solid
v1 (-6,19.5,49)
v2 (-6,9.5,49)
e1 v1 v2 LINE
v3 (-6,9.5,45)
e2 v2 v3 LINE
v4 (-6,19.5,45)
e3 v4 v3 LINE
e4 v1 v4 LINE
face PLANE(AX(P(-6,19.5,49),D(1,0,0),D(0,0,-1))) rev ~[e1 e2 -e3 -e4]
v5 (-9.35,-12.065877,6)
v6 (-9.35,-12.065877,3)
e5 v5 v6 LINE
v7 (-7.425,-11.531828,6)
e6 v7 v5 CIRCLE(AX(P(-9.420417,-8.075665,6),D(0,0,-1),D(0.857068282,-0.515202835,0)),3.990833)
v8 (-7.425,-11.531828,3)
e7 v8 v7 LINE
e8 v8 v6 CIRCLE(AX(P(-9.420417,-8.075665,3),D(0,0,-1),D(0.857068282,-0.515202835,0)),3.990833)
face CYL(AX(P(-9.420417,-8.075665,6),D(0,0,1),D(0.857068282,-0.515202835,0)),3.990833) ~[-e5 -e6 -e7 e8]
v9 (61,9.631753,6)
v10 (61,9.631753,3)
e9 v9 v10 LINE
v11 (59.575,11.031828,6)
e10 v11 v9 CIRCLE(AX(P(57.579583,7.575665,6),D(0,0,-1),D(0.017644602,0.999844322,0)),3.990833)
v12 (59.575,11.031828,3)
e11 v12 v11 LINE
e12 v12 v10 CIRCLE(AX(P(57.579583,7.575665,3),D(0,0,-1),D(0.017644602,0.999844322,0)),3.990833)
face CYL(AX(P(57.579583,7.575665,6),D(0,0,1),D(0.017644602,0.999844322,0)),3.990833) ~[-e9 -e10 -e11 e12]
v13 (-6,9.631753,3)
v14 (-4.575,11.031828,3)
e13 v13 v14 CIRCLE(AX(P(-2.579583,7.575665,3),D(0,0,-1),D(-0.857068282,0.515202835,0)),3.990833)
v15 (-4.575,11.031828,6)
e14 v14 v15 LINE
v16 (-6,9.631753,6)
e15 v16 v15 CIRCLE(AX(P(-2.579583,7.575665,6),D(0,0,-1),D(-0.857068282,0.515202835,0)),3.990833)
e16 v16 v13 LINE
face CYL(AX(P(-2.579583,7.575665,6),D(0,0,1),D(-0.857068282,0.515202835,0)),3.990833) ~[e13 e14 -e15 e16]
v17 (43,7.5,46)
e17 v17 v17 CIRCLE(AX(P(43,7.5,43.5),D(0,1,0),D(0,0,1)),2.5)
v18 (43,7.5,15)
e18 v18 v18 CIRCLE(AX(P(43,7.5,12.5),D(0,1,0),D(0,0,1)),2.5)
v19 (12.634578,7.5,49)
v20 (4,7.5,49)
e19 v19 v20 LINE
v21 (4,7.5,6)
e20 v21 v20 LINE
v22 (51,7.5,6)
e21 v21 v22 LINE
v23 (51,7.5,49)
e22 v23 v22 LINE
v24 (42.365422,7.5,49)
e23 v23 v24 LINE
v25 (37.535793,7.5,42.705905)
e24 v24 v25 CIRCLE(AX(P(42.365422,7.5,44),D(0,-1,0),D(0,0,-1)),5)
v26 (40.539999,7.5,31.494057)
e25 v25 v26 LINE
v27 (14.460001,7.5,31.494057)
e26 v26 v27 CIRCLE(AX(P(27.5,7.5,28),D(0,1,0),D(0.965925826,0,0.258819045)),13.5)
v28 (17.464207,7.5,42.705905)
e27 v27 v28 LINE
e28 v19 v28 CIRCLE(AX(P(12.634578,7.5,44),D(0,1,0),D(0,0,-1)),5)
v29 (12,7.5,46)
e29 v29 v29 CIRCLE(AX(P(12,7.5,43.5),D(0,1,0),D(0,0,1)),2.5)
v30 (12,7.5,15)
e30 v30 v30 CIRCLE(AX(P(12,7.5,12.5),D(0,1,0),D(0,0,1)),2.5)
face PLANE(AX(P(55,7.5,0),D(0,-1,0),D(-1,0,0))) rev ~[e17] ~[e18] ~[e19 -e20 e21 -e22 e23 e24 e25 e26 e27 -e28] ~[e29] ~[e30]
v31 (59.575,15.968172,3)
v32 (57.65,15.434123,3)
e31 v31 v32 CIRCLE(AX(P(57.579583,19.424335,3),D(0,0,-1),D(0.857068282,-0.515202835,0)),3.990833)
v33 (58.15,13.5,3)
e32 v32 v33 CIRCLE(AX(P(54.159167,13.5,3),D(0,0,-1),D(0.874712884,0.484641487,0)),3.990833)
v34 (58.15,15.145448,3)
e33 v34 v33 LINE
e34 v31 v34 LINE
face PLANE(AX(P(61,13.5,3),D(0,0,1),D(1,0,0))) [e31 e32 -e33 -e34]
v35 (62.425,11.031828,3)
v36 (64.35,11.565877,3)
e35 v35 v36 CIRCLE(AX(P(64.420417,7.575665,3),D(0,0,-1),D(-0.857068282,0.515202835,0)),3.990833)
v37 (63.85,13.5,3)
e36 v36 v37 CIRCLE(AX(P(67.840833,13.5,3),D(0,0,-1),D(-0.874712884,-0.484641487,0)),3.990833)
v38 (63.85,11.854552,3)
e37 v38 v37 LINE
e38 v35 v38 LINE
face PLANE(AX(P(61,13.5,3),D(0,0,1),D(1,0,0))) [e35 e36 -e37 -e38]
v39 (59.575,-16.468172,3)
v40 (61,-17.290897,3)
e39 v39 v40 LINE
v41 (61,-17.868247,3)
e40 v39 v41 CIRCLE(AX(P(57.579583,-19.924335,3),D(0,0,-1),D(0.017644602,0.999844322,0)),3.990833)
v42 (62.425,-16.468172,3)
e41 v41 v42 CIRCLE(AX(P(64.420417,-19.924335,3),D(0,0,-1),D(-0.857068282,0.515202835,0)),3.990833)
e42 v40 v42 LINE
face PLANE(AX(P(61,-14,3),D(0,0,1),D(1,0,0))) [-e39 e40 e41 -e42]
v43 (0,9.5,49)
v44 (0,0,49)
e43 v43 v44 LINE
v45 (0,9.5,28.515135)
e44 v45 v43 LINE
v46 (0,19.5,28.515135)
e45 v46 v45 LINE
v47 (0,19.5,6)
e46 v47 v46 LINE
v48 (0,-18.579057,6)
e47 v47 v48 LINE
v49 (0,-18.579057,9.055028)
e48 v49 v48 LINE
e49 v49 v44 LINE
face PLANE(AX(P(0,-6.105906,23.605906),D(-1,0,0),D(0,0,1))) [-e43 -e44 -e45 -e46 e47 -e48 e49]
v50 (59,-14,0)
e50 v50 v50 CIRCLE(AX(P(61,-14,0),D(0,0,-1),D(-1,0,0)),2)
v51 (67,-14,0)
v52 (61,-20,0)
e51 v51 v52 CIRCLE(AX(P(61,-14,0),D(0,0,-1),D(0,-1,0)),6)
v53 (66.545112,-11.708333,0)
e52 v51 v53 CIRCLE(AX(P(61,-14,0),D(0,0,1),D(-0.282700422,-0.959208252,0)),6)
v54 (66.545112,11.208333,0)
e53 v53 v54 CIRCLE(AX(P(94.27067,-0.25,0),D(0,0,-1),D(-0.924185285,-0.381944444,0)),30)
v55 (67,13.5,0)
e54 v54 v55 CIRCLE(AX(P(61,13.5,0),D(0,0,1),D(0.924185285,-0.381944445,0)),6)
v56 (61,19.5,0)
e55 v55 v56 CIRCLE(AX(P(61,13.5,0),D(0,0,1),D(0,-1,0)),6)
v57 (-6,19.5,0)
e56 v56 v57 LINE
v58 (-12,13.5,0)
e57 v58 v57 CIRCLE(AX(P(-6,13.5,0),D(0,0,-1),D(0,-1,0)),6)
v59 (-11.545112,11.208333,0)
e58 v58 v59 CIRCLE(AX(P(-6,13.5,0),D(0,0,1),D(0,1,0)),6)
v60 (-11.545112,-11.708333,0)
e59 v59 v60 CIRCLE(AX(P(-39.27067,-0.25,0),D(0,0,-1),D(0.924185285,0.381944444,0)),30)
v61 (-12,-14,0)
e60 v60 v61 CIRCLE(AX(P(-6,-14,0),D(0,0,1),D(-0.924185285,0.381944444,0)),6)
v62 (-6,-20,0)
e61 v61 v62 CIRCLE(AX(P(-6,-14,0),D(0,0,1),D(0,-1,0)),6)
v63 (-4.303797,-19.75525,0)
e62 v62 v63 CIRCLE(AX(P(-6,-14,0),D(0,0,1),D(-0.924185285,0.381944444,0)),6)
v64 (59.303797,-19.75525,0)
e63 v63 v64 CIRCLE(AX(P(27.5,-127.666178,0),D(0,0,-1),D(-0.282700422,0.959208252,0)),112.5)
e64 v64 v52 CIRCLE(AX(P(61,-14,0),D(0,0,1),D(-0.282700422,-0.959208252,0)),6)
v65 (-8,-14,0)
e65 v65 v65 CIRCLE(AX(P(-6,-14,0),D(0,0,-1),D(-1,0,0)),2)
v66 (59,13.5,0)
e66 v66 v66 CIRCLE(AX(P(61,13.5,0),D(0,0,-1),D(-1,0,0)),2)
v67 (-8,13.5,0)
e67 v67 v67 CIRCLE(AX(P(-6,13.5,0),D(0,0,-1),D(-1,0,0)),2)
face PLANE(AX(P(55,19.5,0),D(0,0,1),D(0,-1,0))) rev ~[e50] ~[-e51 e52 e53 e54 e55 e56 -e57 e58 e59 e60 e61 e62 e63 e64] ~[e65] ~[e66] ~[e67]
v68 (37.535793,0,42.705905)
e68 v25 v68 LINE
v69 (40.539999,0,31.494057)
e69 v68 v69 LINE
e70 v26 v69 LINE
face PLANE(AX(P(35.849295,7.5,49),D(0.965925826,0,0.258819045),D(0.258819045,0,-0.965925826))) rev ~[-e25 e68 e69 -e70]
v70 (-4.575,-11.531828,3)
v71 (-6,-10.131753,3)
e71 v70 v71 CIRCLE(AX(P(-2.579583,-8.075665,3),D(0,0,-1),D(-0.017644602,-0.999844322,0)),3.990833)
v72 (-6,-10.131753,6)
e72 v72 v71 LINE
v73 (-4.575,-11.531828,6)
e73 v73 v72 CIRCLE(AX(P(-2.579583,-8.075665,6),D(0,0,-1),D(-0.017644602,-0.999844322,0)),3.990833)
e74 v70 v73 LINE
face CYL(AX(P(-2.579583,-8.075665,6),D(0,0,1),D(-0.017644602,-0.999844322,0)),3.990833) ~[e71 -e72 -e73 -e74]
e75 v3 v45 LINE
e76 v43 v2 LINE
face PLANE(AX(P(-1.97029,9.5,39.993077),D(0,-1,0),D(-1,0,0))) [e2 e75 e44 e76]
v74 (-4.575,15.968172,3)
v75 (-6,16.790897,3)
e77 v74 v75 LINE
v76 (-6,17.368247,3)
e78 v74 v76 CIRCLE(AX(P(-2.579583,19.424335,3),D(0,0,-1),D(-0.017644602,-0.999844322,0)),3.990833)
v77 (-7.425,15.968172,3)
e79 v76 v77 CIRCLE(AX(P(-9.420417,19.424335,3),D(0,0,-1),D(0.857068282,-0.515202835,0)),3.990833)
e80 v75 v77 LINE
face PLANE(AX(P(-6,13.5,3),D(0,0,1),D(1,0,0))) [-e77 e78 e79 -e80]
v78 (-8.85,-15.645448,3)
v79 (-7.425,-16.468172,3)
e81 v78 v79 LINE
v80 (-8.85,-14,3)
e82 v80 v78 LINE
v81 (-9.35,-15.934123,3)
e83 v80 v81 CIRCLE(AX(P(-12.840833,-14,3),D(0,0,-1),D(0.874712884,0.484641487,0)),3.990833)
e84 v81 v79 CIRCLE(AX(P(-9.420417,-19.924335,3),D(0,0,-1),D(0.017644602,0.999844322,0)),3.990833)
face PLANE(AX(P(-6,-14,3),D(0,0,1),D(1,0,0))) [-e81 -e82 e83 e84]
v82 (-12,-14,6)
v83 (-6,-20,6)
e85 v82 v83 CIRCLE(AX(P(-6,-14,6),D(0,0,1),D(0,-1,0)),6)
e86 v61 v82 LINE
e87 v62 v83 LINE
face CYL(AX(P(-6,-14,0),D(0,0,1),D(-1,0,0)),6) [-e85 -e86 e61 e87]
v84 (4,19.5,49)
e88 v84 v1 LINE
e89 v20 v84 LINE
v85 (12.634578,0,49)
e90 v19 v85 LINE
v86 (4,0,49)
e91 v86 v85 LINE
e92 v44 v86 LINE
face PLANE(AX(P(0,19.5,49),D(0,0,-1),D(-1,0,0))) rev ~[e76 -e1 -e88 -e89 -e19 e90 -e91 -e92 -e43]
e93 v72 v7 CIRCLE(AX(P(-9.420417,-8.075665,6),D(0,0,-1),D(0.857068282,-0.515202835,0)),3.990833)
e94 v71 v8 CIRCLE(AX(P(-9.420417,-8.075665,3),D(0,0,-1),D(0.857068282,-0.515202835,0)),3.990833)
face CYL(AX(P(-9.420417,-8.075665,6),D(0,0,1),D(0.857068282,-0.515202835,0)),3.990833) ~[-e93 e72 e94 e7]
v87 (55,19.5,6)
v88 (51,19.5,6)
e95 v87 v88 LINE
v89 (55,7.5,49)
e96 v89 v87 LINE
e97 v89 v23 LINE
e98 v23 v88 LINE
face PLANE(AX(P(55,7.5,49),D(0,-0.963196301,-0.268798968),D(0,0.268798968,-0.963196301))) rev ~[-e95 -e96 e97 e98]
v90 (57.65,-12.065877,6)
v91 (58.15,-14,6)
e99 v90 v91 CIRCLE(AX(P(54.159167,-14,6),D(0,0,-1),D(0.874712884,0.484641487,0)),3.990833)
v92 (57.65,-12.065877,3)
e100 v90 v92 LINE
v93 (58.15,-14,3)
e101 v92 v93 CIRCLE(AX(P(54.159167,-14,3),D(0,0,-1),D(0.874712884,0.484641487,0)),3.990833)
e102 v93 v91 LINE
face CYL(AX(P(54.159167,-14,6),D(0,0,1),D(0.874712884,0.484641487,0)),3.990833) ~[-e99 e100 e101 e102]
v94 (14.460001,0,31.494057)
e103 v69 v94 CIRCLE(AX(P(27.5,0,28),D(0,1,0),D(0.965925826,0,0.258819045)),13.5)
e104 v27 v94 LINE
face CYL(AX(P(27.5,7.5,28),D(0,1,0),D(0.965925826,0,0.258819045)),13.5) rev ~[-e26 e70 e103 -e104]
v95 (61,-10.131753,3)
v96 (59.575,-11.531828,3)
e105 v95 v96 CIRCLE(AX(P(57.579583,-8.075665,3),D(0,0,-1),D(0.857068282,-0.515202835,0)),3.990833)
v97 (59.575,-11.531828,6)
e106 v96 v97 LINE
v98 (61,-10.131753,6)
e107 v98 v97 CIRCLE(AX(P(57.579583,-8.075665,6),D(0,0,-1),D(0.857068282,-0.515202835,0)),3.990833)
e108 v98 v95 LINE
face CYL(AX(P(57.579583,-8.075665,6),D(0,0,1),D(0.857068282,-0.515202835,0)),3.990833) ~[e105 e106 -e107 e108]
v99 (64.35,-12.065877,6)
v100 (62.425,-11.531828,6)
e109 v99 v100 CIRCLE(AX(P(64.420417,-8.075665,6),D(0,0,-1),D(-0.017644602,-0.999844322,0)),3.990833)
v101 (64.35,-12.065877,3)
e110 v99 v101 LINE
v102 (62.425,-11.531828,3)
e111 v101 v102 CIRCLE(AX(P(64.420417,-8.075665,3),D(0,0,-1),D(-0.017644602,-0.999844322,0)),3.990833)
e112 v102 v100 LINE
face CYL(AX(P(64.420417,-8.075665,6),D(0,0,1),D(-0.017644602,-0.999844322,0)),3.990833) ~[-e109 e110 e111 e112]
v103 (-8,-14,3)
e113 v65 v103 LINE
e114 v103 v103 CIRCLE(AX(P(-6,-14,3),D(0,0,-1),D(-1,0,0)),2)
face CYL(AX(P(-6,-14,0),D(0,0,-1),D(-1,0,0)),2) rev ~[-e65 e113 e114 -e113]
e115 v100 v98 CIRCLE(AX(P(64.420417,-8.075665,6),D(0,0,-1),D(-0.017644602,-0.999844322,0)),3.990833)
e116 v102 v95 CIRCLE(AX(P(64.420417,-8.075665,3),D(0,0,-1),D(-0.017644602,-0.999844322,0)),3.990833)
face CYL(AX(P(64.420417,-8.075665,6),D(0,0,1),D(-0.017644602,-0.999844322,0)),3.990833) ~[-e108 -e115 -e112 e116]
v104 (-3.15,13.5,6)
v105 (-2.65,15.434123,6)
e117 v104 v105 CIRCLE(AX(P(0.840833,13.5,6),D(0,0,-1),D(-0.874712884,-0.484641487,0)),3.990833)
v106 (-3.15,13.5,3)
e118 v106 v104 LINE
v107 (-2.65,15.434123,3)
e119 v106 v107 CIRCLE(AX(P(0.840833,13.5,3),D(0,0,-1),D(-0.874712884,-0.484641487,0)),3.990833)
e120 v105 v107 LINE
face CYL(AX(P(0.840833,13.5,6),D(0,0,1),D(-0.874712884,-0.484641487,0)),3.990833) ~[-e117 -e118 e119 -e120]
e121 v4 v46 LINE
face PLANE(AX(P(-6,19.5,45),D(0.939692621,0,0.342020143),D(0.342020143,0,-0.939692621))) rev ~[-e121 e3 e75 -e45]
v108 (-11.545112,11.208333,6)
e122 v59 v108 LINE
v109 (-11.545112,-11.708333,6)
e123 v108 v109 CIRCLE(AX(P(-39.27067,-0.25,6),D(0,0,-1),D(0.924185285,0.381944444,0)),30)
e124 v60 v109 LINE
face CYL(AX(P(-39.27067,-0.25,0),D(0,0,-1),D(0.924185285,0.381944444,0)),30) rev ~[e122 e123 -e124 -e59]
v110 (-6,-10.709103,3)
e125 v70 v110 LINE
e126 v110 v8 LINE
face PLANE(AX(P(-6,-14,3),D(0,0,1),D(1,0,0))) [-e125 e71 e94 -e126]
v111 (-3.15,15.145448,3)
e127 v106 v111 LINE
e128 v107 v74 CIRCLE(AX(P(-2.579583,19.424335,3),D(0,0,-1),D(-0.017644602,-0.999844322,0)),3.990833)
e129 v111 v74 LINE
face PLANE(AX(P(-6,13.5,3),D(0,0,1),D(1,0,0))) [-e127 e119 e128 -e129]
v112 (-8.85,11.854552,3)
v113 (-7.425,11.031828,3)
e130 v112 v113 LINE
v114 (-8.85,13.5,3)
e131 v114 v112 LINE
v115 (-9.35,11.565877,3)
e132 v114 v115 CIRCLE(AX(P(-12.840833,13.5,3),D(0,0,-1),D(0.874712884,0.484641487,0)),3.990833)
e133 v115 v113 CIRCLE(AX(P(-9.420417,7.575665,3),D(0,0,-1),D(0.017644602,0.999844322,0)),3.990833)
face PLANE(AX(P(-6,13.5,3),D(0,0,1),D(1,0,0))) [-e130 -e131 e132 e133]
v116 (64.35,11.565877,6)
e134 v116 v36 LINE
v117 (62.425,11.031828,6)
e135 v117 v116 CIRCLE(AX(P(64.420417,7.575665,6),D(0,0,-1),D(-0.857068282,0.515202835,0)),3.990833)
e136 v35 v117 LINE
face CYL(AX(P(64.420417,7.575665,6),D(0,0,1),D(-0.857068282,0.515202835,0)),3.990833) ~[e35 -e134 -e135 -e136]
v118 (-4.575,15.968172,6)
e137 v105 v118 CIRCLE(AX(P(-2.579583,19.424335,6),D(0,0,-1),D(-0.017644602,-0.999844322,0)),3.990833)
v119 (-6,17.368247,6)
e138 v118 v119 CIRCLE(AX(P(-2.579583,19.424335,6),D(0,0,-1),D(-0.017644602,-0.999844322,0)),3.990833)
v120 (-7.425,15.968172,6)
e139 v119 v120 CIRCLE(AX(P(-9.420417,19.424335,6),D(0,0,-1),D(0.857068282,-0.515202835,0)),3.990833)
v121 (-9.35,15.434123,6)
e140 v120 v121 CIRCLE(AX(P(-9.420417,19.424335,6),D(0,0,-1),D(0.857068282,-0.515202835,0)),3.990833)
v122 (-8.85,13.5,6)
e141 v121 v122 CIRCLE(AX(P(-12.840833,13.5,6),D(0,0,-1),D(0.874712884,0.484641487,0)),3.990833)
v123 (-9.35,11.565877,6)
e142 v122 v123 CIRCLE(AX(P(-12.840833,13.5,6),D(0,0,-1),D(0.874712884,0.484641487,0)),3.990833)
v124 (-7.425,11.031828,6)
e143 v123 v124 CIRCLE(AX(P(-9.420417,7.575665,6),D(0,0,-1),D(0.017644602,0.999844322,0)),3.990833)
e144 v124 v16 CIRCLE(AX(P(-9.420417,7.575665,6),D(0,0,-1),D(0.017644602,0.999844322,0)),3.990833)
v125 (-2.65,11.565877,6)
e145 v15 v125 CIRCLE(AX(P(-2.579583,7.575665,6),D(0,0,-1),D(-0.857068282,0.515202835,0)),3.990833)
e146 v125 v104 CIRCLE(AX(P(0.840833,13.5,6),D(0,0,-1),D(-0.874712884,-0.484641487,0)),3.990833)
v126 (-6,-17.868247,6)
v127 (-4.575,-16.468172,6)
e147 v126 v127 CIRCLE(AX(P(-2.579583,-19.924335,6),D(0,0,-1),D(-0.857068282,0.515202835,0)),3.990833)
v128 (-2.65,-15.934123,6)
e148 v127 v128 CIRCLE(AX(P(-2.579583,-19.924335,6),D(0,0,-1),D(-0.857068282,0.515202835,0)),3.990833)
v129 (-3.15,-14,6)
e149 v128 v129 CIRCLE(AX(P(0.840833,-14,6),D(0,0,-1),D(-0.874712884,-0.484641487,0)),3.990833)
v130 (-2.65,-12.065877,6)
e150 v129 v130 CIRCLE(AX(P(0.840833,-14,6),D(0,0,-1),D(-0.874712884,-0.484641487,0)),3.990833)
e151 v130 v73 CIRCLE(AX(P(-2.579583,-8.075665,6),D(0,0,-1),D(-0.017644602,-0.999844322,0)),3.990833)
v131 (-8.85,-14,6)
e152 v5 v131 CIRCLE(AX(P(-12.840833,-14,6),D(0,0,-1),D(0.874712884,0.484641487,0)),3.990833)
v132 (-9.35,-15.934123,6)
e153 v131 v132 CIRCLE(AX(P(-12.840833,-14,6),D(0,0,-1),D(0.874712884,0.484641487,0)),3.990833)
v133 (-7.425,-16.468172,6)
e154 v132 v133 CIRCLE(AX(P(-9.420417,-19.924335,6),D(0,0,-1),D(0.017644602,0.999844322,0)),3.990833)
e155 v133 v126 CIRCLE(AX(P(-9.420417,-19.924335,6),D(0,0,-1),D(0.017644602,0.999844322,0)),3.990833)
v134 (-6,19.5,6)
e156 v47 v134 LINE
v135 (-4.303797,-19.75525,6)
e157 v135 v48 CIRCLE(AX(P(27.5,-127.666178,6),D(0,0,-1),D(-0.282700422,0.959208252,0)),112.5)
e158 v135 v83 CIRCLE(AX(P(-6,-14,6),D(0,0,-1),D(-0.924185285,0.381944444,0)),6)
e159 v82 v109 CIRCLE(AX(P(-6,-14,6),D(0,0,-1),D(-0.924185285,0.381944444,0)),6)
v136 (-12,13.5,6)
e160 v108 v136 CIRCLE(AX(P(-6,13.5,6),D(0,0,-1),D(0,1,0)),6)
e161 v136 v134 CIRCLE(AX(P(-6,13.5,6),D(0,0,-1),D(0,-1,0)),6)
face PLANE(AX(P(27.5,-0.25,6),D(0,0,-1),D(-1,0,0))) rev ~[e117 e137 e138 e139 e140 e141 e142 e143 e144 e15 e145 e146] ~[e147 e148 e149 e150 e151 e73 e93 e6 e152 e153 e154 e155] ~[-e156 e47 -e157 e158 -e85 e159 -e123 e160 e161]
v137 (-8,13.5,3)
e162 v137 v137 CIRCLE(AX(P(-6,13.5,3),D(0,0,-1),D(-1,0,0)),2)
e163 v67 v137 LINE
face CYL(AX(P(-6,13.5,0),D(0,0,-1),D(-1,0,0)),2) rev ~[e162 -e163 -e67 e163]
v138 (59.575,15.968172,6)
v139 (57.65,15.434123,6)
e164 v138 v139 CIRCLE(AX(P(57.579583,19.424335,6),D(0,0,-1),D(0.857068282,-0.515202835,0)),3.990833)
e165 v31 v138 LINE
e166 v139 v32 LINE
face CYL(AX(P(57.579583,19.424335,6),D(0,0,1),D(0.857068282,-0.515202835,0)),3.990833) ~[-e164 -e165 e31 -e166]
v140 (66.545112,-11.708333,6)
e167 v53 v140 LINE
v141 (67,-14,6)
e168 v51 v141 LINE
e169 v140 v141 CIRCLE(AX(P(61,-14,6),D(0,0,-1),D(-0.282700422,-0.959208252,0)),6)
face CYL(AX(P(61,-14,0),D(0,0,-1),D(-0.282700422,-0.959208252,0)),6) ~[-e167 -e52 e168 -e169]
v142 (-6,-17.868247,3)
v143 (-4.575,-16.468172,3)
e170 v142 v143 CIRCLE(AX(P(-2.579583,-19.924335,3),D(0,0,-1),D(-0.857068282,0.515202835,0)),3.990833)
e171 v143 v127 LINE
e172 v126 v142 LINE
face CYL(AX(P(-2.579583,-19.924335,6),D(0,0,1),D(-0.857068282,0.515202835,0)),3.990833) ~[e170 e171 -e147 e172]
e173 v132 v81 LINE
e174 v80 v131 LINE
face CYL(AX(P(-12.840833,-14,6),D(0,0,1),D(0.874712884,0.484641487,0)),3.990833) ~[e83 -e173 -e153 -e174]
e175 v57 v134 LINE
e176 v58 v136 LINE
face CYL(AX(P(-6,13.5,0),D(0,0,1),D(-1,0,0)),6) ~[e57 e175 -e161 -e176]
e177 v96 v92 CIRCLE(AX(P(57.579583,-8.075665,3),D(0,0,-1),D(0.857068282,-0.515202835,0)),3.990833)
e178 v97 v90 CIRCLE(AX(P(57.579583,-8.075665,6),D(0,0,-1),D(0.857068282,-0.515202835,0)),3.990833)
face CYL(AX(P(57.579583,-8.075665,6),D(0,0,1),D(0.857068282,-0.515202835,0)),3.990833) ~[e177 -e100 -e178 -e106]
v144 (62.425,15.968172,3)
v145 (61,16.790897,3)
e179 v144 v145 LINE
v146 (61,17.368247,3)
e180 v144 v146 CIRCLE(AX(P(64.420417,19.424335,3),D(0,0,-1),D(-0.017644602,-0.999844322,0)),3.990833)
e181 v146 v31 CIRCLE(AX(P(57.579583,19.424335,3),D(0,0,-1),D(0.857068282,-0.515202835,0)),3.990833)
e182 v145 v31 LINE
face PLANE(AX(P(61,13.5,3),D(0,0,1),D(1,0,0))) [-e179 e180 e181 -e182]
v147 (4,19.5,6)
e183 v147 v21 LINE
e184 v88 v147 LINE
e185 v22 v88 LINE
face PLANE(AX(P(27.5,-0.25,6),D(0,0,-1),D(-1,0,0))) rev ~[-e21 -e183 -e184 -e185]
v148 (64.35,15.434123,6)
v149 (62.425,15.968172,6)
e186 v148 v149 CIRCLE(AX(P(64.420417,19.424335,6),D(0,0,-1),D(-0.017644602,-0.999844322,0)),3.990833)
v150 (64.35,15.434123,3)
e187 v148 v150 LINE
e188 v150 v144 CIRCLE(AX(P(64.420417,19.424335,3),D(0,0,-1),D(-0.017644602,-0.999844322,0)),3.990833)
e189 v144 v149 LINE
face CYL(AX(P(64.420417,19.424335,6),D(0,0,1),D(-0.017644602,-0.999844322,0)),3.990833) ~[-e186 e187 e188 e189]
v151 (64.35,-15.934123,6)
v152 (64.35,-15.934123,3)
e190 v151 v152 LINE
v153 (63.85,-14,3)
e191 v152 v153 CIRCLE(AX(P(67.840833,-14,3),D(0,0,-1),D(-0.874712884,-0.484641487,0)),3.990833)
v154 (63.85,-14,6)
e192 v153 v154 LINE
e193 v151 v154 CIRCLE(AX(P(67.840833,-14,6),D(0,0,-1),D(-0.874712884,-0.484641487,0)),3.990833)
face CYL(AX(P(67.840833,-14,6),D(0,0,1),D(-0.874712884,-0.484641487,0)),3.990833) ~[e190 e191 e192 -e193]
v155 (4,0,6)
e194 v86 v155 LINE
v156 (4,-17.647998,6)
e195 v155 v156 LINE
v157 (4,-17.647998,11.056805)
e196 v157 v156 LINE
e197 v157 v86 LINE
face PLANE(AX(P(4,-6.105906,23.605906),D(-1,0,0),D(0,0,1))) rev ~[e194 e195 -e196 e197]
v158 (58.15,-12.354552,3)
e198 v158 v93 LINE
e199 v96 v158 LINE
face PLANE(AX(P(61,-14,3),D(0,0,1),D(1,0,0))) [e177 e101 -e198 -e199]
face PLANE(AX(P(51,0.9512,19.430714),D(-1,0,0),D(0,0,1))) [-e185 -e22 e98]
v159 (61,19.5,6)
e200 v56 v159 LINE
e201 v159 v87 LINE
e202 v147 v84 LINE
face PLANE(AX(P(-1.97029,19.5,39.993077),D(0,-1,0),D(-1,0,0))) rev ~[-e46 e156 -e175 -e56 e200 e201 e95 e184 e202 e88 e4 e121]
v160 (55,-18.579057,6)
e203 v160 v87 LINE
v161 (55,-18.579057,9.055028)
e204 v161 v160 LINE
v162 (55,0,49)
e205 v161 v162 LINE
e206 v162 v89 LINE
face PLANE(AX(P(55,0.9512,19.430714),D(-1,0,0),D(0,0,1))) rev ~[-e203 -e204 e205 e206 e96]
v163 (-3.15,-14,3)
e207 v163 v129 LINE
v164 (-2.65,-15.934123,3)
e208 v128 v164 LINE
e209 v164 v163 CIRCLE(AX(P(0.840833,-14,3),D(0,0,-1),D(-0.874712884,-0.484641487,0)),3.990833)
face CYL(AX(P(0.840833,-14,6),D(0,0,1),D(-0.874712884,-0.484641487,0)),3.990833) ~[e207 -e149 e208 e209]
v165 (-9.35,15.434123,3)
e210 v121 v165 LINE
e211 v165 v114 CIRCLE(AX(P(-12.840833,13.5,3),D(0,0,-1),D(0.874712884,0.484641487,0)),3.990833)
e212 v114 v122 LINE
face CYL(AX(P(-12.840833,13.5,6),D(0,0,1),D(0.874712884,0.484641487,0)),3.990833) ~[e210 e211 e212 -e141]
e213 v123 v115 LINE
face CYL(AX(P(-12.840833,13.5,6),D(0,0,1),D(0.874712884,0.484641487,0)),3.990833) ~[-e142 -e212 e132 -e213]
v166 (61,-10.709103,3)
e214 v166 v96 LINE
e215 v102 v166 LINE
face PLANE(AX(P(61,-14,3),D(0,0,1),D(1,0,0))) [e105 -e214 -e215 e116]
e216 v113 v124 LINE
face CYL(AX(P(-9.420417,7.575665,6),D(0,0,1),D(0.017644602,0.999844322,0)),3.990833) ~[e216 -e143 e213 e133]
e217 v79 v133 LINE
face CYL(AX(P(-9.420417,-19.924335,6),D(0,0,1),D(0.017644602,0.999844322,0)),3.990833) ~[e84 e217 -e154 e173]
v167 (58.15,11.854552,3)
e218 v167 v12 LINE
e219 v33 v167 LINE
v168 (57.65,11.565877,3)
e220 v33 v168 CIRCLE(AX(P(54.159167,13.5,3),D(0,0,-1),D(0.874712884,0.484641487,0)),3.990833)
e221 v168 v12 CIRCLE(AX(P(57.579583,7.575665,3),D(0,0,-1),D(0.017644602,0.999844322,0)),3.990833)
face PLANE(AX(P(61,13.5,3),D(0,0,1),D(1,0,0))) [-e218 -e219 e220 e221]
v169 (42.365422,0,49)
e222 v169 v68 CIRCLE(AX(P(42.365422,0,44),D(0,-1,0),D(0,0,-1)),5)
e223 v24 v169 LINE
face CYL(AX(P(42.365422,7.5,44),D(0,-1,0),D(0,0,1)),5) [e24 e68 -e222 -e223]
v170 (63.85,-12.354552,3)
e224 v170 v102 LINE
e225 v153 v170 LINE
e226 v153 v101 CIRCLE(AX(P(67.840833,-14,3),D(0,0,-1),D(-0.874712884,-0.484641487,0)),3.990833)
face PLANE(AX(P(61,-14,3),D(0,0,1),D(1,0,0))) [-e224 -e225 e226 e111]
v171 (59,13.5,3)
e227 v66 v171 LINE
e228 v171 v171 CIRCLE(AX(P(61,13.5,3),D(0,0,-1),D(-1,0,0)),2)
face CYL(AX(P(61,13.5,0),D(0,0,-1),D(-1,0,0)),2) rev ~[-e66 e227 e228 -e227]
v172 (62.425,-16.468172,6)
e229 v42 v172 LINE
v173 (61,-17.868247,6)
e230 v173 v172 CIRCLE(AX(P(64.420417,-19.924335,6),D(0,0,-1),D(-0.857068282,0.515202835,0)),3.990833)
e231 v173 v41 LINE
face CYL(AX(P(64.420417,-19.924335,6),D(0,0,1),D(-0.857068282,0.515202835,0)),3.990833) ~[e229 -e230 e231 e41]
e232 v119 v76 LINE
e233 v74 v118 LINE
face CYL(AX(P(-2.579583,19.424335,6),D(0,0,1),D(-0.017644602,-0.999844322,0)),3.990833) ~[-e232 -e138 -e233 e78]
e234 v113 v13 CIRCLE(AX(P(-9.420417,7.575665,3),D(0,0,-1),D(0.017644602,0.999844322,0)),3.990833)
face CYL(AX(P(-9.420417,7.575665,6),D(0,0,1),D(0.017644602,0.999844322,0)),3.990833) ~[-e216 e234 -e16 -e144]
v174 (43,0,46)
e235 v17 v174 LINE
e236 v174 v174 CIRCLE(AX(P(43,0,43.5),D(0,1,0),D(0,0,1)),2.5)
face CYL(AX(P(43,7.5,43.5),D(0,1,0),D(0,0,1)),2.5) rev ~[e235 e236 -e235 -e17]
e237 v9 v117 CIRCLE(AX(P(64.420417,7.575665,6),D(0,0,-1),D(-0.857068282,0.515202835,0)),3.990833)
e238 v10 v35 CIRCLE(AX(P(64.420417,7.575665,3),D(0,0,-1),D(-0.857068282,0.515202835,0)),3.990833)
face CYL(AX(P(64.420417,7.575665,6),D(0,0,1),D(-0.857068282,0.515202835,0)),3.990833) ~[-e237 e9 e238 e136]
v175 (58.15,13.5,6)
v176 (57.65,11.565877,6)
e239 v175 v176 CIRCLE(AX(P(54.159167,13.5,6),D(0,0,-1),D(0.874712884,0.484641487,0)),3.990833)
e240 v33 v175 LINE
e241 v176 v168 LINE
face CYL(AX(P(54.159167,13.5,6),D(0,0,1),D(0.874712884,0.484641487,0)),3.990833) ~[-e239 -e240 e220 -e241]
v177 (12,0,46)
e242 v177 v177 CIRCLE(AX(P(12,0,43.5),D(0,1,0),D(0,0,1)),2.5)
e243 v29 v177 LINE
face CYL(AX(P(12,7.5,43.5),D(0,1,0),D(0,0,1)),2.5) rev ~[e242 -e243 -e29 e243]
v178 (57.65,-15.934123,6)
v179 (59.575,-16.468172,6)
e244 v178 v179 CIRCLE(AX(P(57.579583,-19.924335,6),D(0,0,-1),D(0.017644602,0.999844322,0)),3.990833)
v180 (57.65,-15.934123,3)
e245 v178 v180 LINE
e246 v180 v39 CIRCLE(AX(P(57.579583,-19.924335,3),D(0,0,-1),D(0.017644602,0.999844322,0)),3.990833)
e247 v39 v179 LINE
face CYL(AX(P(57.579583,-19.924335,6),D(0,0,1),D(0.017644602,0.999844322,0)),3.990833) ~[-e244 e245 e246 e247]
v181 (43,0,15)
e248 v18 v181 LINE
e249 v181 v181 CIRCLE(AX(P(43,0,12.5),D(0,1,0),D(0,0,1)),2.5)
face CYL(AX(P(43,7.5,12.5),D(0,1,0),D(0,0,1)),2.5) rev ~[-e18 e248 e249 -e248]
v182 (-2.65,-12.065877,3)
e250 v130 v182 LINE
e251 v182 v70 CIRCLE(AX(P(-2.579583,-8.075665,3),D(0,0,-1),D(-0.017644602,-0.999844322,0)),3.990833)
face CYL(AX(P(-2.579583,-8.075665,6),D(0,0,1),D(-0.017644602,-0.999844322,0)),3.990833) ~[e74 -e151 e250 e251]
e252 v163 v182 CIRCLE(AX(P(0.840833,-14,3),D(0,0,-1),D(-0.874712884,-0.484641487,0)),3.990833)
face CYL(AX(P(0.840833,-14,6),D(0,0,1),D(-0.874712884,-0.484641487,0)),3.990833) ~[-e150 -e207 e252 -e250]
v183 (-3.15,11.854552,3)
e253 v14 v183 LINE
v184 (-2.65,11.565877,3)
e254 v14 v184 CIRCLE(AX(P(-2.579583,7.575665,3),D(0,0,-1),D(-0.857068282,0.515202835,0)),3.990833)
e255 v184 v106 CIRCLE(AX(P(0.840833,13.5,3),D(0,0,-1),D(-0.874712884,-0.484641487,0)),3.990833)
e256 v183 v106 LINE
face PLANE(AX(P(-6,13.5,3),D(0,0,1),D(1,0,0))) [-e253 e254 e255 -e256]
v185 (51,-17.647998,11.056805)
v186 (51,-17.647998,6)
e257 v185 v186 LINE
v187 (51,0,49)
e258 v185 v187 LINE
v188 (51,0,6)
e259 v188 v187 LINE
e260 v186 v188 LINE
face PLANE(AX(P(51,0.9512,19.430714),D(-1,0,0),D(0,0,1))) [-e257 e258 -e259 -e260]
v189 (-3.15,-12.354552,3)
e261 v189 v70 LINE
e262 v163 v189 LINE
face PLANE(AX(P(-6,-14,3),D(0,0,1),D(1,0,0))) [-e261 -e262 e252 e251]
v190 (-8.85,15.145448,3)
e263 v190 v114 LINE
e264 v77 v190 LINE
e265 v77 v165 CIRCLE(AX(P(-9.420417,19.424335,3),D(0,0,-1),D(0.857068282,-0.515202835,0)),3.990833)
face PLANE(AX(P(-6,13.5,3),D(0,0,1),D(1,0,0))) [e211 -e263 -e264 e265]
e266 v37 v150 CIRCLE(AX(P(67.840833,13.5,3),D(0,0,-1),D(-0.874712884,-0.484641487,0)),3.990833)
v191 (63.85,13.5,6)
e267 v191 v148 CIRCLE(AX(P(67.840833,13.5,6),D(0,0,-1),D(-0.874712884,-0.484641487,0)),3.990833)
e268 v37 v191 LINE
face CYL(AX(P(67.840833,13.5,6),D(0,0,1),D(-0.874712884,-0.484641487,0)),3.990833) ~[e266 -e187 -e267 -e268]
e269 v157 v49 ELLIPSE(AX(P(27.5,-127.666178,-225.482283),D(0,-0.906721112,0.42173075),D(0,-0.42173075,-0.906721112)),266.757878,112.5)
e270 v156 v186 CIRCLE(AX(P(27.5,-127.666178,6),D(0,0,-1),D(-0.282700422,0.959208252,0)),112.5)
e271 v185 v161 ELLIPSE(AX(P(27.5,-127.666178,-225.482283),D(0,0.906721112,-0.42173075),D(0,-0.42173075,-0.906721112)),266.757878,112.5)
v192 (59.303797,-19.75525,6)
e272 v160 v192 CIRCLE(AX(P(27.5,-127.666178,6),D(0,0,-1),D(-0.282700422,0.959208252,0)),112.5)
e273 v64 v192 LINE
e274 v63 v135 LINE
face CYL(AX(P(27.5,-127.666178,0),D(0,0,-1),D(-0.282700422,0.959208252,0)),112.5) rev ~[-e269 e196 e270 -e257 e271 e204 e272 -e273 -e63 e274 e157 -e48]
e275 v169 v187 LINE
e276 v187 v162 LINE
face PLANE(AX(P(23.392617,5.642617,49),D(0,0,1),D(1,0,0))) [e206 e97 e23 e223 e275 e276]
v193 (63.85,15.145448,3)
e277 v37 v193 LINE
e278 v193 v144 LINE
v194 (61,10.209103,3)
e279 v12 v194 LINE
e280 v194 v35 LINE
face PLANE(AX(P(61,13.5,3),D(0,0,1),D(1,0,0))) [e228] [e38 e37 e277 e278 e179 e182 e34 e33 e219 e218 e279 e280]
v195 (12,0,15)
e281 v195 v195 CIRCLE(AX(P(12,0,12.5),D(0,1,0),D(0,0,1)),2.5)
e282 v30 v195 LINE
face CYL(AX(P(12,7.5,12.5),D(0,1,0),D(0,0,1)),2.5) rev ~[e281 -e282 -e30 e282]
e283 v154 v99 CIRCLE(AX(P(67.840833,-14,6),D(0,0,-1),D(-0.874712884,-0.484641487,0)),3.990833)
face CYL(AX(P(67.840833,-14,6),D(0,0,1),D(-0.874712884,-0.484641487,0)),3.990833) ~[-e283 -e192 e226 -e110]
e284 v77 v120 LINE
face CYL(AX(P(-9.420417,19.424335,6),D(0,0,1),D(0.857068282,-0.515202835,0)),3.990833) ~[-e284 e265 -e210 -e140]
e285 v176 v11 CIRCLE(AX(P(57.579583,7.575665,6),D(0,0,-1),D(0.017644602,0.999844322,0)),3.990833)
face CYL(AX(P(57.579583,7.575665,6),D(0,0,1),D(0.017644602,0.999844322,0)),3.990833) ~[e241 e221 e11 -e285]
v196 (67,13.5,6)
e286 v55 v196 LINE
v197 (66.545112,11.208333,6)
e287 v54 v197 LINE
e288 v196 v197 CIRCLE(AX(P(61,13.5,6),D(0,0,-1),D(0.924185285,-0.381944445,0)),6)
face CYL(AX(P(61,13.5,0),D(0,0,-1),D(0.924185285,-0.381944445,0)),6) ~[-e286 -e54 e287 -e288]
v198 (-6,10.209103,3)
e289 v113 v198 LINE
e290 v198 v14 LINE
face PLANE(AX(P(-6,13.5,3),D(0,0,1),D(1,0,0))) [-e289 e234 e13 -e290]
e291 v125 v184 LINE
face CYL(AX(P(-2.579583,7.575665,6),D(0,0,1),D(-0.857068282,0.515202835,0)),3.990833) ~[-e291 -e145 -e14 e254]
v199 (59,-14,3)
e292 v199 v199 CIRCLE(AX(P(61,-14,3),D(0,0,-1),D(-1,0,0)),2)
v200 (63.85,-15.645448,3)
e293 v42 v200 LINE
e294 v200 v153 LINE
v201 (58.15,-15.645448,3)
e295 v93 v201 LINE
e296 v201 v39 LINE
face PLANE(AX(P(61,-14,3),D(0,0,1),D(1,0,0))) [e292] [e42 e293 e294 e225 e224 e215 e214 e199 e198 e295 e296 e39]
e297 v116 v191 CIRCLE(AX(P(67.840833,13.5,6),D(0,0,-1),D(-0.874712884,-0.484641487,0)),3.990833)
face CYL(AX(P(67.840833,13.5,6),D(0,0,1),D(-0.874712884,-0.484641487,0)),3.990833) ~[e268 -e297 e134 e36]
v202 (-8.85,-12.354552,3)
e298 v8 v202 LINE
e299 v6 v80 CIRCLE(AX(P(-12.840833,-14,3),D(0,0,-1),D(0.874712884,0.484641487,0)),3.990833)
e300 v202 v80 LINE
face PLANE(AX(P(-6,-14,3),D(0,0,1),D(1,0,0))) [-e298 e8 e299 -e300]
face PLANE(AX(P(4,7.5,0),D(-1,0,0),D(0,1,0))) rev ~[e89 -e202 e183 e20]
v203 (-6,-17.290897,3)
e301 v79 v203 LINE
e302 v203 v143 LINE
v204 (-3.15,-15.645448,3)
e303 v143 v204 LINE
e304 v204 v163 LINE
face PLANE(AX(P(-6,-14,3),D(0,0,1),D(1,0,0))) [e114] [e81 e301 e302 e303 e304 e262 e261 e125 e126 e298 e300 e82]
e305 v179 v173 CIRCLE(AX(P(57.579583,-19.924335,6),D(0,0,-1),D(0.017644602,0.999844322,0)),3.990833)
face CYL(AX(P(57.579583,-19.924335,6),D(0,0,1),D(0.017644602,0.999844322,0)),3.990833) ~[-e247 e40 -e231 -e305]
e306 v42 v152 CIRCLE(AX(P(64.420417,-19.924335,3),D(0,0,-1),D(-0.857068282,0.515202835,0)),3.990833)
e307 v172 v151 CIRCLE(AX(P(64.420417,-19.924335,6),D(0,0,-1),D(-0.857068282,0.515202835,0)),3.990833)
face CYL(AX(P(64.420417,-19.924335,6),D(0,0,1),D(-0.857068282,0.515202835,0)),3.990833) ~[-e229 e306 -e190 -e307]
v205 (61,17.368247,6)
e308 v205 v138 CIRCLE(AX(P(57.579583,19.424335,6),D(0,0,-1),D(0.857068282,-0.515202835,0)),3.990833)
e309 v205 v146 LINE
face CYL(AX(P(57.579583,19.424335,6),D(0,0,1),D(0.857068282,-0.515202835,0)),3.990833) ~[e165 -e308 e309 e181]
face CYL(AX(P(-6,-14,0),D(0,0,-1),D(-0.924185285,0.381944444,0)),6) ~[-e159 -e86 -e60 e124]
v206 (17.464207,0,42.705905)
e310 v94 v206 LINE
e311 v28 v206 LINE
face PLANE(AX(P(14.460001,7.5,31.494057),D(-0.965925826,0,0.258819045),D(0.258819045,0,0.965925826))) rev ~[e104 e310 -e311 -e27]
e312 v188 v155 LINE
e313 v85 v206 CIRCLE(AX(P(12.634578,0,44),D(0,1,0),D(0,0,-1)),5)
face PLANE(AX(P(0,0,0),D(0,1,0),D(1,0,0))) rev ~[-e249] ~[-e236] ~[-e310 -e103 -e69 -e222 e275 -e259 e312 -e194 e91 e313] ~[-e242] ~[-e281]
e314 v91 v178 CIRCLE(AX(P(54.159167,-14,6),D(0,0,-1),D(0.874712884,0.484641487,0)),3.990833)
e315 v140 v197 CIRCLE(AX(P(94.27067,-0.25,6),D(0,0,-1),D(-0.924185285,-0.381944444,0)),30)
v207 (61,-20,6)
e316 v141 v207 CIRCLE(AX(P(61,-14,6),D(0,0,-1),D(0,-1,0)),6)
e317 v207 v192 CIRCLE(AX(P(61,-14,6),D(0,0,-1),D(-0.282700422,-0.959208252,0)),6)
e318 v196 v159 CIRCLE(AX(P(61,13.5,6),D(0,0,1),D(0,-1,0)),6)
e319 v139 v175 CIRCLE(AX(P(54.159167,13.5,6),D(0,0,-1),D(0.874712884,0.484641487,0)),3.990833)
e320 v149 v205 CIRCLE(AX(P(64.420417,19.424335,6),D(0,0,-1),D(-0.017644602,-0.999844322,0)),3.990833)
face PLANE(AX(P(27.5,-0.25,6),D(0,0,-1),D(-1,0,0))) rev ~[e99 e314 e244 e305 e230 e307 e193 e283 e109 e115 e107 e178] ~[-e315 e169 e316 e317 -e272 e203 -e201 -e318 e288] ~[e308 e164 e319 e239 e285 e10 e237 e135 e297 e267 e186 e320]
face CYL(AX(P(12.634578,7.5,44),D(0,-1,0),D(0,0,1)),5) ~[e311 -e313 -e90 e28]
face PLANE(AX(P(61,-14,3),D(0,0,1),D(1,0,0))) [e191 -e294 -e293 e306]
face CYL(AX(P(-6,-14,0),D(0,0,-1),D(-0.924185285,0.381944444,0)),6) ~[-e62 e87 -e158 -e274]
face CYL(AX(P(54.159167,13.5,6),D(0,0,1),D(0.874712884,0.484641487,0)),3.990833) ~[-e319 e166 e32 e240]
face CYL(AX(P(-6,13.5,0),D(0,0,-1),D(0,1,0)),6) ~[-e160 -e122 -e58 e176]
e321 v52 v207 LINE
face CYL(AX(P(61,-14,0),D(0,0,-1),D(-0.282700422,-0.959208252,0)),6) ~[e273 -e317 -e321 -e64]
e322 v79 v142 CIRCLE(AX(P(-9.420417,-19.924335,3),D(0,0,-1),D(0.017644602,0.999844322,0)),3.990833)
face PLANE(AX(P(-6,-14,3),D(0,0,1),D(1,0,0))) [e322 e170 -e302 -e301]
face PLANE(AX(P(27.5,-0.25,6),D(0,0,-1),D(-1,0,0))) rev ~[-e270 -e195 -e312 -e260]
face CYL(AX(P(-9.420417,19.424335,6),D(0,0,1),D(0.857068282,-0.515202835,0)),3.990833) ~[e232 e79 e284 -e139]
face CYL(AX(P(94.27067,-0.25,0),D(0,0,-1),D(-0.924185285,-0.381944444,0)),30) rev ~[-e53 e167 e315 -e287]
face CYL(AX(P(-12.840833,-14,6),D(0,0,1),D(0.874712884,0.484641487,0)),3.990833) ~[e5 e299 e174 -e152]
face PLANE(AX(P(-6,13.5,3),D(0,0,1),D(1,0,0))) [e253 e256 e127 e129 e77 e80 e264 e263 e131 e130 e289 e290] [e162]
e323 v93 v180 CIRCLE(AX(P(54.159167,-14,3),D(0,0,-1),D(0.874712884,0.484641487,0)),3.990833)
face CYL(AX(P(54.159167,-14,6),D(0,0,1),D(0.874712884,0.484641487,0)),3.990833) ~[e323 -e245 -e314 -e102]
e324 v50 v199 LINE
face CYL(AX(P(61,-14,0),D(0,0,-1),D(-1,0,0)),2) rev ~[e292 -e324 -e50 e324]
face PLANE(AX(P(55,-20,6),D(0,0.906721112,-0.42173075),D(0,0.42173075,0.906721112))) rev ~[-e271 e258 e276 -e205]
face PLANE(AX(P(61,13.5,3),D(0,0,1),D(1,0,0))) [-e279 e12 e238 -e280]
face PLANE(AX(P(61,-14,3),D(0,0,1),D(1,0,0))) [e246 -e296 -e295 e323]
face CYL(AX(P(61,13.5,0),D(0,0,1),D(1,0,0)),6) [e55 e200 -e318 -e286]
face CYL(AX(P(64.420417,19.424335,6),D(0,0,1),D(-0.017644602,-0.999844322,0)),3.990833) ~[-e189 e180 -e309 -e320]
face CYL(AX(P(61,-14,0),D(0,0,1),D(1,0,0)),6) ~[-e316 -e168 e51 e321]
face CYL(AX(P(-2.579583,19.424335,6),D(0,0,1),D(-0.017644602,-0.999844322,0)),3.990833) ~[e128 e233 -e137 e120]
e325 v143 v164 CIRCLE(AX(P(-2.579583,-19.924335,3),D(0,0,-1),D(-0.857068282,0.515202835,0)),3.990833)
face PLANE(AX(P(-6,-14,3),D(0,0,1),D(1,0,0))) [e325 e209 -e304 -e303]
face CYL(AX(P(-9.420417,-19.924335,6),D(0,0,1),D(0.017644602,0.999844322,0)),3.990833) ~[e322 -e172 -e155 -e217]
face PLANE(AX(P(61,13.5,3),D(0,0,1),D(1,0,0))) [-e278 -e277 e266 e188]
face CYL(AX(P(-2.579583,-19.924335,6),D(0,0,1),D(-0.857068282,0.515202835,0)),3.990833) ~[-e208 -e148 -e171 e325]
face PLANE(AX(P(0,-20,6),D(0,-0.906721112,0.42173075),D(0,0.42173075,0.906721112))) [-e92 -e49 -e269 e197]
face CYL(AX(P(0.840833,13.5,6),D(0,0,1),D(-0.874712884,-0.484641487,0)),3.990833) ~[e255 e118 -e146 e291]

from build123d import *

# Parameters (mm, degrees)
BOSS_EXTRUDE1_DEPTH  = 49
SKETCH2_R            = 2.5
CUT_EXTRUDE1_DEPTH   = 8.5
SKETCH4_W            = 79
SKETCH4_H            = 39.5
BOSS_EXTRUDE2_DEPTH  = 6
BOSS_EXTRUDE3_DEPTH  = 4
SKETCH5_R            = 2
CUT_EXTRUDE3_DEPTH   = 10
BOSS_EXTRUDE4_DEPTH  = 4
FILLET1_R            = 6
FILLET2_R            = 5
CUT_EXTRUDE5_DEPTH   = 3
CUT_EXTRUDE6_DEPTH   = 50
CUT_EXTRUDE7_DEPTH   = 3
LPATTERN1_COUNT      = 2
LPATTERN1_PITCH      = 67
LPATTERN1_COUNT_DIR2 = 2
LPATTERN1_PITCH_DIR2 = 27.5
BOSS_EXTRUDE5_DEPTH  = 10


with BuildPart() as part:
    # Sketch1 → Boss-Extrude1 (new body)
    with BuildSketch(Plane.XY):
        Polygon((4, 7.5), (4, 19.5), (0, 19.5), (0, 0), (55, 0), (55, 7.5), align=None)
    extrude(amount=BOSS_EXTRUDE1_DEPTH)

    # Sketch2 → Cut-Extrude1 (cut, through all)
    with BuildSketch(Plane(origin=(0, 7.5, 0), x_dir=(1, 0, 0), z_dir=(0, 1, 0))):
        with Locations(Location((12, -12.5, 0), (0, 0, 270))):  # turned: the seam where the file's is
            Circle(SKETCH2_R)
        with Locations(Location((43, -12.5, 0), (0, 0, 270))):  # turned: the seam where the file's is
            Circle(SKETCH2_R)
        with Locations(Location((12, -43.5, 0), (0, 0, 270))):  # turned: the seam where the file's is
            Circle(SKETCH2_R)
        with Locations(Location((43, -43.5, 0), (0, 0, 270))):  # turned: the seam where the file's is
            Circle(SKETCH2_R)
        with BuildLine():
            Line((14.460001345, -31.494057109), (19.150704606, -49))
            Line((19.150704606, -49), (35.849295394, -49))
            Line((35.849295394, -49), (40.539998655, -31.494057109))
            ThreePointArc((40.539998655, -31.494057109), (27.5, -14.5), (14.460001345, -31.494057109))
        make_face()
    extrude(amount=-CUT_EXTRUDE1_DEPTH, mode=Mode.SUBTRACT)

    # Sketch4 → Boss-Extrude2 (add)
    with BuildSketch(Plane(origin=(0, 0, 0), x_dir=(-1, 0, 0), z_dir=(0, 0, -1))):
        with Locations((-27.5, -0.25)):
            Rectangle(SKETCH4_W, SKETCH4_H)
    extrude(amount=-BOSS_EXTRUDE2_DEPTH)

    # Sketch6 → Boss-Extrude3 (add)
    with BuildSketch(Plane.ZY):
        Polygon((6, -20), (49, 0), (6, 0), align=None)
    extrude(amount=-BOSS_EXTRUDE3_DEPTH)

    # Sketch5 → Cut-Extrude3 (cut)
    with BuildSketch(Plane(origin=(0, 0, 0), x_dir=(-1, 0, 0), z_dir=(0, 0, -1))):
        with Locations((-61, 13.5)):
            Circle(SKETCH5_R)
        with Locations((-61, -14)):
            Circle(SKETCH5_R)
        with Locations((6, 13.5)):
            Circle(SKETCH5_R)
        with Locations((6, -14)):
            Circle(SKETCH5_R)
    extrude(amount=-CUT_EXTRUDE3_DEPTH, mode=Mode.SUBTRACT)

    # Sketch7 → Boss-Extrude4 (add)
    with BuildSketch(Plane(origin=(55, 0, 0), x_dir=(0, 0, -1), z_dir=(1, 0, 0))):
        Polygon((-49, 7.5), (-6, 19.5), (0, 19.5), (0, -20), (-6, -20), (-49, 0), align=None)
    extrude(amount=-BOSS_EXTRUDE4_DEPTH)

    # Fillet1
    fillet1_edges = [part.edges().sort_by_distance(p)[0] for p in [
        (67, 19.5, 3),
        (-12, 19.5, 3),
        (-12, -20, 3),
        (67, -20, 3),
    ]]
    fillet(fillet1_edges, radius=FILLET1_R)

    # Fillet2
    fillet2_edges = [part.edges().sort_by_distance(p)[0] for p in [
        (35.849295394, 3.75, 49),
        (19.150704606, 3.75, 49),
    ]]
    fillet(fillet2_edges, radius=FILLET2_R)

    # Sketch9 → Cut-Extrude5 (cut)
    with BuildSketch(Plane.XY.offset(6)):
        Polygon((-6, 16.790896534), (-8.85, 15.145448267), (-8.85, 11.854551733), (-6, 10.209103466), (-3.15, 11.854551733), (-3.15, 15.145448267), align=None)
        Polygon((-6, -10.709103466), (-8.85, -12.354551733), (-8.85, -15.645448267), (-6, -17.290896534), (-3.15, -15.645448267), (-3.15, -12.354551733), align=None)
        Polygon((61, -10.709103466), (58.15, -12.354551733), (58.15, -15.645448267), (61, -17.290896534), (63.85, -15.645448267), (63.85, -12.354551733), align=None)
        Polygon((61, 10.209103466), (63.85, 11.854551733), (63.85, 15.145448267), (61, 16.790896534), (58.15, 15.145448267), (58.15, 11.854551733), align=None)
    extrude(amount=-CUT_EXTRUDE5_DEPTH, mode=Mode.SUBTRACT)

    # Sketch10 → Cut-Extrude6 (cut, through all)
    with BuildSketch(Plane(origin=(0, 0, 0), x_dir=(-1, 0, 0), z_dir=(0, 0, -1))):
        with BuildLine():
            Line((-61, 19.5), (-61, 26.194717678))
            Line((-61, 26.194717678), (-93.21372943, 26.194717678))
            Line((-93.21372943, 26.194717678), (-93.21372943, -32.483465835))
            Line((-93.21372943, -32.483465835), (20.656804912, -32.483465835))
            Line((20.656804912, -32.483465835), (20.656804912, 27.240467483))
            Line((20.656804912, 27.240467483), (6, 27.240467483))
            Line((6, 27.240467483), (6, 19.5))
            ThreePointArc((6, 19.5), (10.987484336, 16.835416016), (11.545111711, 11.208333333))
            ThreePointArc((11.545111711, 11.208333333), (9.270670267, -0.25), (11.545111711, -11.708333333))
            ThreePointArc((11.545111711, -11.708333333), (10.460015748, -18.013509627), (4.303797468, -19.755249514))
            ThreePointArc((4.303797468, -19.755249514), (-27.5, -15.166177907), (-59.303797468, -19.755249514))
            ThreePointArc((-59.303797468, -19.755249514), (-65.460015748, -18.013509627), (-66.545111711, -11.708333333))
            ThreePointArc((-66.545111711, -11.708333333), (-64.270670267, -0.25), (-66.545111711, 11.208333333))
            ThreePointArc((-66.545111711, 11.208333333), (-65.987484336, 16.835416016), (-61, 19.5))
        make_face()
    extrude(amount=-CUT_EXTRUDE6_DEPTH, mode=Mode.SUBTRACT)

    # Sketch11 → Cut-Extrude7 (cut)
    with BuildSketch(Plane.XY.offset(6)):
        with BuildLine():
            ThreePointArc((-9.35, 15.434123402), (-8.85, 13.5), (-9.35, 11.565876598))
            ThreePointArc((-9.35, 11.565876598), (-7.425, 11.031827599), (-6, 9.631753196))
            ThreePointArc((-6, 9.631753196), (-4.575, 11.031827599), (-2.65, 11.565876598))
            ThreePointArc((-2.65, 11.565876598), (-3.15, 13.5), (-2.65, 15.434123402))
            ThreePointArc((-2.65, 15.434123402), (-4.575, 15.968172401), (-6, 17.368246804))
            ThreePointArc((-6, 17.368246804), (-7.425, 15.968172401), (-9.35, 15.434123402))
        make_face()
    cut_extrude7 = extrude(amount=-CUT_EXTRUDE7_DEPTH, mode=Mode.SUBTRACT)

    # LPattern1: Cut-Extrude7 2 × 2
    with Locations(*[(i * LPATTERN1_PITCH, -j * LPATTERN1_PITCH_DIR2, 0) for i in range(LPATTERN1_COUNT) for j in range(LPATTERN1_COUNT_DIR2) if (i, j) != (0, 0)]):
        add(cut_extrude7, mode=Mode.SUBTRACT)

    # Sketch12 → Boss-Extrude5 (add)
    with BuildSketch(Plane(origin=(0, 19.5, 0), x_dir=(1, 0, 0), z_dir=(0, 1, 0))):
        Polygon((0, -49), (-6, -49), (-6, -45), (0, -28.515135483), align=None)
    extrude(amount=-BOSS_EXTRUDE5_DEPTH)


solid = part.part
